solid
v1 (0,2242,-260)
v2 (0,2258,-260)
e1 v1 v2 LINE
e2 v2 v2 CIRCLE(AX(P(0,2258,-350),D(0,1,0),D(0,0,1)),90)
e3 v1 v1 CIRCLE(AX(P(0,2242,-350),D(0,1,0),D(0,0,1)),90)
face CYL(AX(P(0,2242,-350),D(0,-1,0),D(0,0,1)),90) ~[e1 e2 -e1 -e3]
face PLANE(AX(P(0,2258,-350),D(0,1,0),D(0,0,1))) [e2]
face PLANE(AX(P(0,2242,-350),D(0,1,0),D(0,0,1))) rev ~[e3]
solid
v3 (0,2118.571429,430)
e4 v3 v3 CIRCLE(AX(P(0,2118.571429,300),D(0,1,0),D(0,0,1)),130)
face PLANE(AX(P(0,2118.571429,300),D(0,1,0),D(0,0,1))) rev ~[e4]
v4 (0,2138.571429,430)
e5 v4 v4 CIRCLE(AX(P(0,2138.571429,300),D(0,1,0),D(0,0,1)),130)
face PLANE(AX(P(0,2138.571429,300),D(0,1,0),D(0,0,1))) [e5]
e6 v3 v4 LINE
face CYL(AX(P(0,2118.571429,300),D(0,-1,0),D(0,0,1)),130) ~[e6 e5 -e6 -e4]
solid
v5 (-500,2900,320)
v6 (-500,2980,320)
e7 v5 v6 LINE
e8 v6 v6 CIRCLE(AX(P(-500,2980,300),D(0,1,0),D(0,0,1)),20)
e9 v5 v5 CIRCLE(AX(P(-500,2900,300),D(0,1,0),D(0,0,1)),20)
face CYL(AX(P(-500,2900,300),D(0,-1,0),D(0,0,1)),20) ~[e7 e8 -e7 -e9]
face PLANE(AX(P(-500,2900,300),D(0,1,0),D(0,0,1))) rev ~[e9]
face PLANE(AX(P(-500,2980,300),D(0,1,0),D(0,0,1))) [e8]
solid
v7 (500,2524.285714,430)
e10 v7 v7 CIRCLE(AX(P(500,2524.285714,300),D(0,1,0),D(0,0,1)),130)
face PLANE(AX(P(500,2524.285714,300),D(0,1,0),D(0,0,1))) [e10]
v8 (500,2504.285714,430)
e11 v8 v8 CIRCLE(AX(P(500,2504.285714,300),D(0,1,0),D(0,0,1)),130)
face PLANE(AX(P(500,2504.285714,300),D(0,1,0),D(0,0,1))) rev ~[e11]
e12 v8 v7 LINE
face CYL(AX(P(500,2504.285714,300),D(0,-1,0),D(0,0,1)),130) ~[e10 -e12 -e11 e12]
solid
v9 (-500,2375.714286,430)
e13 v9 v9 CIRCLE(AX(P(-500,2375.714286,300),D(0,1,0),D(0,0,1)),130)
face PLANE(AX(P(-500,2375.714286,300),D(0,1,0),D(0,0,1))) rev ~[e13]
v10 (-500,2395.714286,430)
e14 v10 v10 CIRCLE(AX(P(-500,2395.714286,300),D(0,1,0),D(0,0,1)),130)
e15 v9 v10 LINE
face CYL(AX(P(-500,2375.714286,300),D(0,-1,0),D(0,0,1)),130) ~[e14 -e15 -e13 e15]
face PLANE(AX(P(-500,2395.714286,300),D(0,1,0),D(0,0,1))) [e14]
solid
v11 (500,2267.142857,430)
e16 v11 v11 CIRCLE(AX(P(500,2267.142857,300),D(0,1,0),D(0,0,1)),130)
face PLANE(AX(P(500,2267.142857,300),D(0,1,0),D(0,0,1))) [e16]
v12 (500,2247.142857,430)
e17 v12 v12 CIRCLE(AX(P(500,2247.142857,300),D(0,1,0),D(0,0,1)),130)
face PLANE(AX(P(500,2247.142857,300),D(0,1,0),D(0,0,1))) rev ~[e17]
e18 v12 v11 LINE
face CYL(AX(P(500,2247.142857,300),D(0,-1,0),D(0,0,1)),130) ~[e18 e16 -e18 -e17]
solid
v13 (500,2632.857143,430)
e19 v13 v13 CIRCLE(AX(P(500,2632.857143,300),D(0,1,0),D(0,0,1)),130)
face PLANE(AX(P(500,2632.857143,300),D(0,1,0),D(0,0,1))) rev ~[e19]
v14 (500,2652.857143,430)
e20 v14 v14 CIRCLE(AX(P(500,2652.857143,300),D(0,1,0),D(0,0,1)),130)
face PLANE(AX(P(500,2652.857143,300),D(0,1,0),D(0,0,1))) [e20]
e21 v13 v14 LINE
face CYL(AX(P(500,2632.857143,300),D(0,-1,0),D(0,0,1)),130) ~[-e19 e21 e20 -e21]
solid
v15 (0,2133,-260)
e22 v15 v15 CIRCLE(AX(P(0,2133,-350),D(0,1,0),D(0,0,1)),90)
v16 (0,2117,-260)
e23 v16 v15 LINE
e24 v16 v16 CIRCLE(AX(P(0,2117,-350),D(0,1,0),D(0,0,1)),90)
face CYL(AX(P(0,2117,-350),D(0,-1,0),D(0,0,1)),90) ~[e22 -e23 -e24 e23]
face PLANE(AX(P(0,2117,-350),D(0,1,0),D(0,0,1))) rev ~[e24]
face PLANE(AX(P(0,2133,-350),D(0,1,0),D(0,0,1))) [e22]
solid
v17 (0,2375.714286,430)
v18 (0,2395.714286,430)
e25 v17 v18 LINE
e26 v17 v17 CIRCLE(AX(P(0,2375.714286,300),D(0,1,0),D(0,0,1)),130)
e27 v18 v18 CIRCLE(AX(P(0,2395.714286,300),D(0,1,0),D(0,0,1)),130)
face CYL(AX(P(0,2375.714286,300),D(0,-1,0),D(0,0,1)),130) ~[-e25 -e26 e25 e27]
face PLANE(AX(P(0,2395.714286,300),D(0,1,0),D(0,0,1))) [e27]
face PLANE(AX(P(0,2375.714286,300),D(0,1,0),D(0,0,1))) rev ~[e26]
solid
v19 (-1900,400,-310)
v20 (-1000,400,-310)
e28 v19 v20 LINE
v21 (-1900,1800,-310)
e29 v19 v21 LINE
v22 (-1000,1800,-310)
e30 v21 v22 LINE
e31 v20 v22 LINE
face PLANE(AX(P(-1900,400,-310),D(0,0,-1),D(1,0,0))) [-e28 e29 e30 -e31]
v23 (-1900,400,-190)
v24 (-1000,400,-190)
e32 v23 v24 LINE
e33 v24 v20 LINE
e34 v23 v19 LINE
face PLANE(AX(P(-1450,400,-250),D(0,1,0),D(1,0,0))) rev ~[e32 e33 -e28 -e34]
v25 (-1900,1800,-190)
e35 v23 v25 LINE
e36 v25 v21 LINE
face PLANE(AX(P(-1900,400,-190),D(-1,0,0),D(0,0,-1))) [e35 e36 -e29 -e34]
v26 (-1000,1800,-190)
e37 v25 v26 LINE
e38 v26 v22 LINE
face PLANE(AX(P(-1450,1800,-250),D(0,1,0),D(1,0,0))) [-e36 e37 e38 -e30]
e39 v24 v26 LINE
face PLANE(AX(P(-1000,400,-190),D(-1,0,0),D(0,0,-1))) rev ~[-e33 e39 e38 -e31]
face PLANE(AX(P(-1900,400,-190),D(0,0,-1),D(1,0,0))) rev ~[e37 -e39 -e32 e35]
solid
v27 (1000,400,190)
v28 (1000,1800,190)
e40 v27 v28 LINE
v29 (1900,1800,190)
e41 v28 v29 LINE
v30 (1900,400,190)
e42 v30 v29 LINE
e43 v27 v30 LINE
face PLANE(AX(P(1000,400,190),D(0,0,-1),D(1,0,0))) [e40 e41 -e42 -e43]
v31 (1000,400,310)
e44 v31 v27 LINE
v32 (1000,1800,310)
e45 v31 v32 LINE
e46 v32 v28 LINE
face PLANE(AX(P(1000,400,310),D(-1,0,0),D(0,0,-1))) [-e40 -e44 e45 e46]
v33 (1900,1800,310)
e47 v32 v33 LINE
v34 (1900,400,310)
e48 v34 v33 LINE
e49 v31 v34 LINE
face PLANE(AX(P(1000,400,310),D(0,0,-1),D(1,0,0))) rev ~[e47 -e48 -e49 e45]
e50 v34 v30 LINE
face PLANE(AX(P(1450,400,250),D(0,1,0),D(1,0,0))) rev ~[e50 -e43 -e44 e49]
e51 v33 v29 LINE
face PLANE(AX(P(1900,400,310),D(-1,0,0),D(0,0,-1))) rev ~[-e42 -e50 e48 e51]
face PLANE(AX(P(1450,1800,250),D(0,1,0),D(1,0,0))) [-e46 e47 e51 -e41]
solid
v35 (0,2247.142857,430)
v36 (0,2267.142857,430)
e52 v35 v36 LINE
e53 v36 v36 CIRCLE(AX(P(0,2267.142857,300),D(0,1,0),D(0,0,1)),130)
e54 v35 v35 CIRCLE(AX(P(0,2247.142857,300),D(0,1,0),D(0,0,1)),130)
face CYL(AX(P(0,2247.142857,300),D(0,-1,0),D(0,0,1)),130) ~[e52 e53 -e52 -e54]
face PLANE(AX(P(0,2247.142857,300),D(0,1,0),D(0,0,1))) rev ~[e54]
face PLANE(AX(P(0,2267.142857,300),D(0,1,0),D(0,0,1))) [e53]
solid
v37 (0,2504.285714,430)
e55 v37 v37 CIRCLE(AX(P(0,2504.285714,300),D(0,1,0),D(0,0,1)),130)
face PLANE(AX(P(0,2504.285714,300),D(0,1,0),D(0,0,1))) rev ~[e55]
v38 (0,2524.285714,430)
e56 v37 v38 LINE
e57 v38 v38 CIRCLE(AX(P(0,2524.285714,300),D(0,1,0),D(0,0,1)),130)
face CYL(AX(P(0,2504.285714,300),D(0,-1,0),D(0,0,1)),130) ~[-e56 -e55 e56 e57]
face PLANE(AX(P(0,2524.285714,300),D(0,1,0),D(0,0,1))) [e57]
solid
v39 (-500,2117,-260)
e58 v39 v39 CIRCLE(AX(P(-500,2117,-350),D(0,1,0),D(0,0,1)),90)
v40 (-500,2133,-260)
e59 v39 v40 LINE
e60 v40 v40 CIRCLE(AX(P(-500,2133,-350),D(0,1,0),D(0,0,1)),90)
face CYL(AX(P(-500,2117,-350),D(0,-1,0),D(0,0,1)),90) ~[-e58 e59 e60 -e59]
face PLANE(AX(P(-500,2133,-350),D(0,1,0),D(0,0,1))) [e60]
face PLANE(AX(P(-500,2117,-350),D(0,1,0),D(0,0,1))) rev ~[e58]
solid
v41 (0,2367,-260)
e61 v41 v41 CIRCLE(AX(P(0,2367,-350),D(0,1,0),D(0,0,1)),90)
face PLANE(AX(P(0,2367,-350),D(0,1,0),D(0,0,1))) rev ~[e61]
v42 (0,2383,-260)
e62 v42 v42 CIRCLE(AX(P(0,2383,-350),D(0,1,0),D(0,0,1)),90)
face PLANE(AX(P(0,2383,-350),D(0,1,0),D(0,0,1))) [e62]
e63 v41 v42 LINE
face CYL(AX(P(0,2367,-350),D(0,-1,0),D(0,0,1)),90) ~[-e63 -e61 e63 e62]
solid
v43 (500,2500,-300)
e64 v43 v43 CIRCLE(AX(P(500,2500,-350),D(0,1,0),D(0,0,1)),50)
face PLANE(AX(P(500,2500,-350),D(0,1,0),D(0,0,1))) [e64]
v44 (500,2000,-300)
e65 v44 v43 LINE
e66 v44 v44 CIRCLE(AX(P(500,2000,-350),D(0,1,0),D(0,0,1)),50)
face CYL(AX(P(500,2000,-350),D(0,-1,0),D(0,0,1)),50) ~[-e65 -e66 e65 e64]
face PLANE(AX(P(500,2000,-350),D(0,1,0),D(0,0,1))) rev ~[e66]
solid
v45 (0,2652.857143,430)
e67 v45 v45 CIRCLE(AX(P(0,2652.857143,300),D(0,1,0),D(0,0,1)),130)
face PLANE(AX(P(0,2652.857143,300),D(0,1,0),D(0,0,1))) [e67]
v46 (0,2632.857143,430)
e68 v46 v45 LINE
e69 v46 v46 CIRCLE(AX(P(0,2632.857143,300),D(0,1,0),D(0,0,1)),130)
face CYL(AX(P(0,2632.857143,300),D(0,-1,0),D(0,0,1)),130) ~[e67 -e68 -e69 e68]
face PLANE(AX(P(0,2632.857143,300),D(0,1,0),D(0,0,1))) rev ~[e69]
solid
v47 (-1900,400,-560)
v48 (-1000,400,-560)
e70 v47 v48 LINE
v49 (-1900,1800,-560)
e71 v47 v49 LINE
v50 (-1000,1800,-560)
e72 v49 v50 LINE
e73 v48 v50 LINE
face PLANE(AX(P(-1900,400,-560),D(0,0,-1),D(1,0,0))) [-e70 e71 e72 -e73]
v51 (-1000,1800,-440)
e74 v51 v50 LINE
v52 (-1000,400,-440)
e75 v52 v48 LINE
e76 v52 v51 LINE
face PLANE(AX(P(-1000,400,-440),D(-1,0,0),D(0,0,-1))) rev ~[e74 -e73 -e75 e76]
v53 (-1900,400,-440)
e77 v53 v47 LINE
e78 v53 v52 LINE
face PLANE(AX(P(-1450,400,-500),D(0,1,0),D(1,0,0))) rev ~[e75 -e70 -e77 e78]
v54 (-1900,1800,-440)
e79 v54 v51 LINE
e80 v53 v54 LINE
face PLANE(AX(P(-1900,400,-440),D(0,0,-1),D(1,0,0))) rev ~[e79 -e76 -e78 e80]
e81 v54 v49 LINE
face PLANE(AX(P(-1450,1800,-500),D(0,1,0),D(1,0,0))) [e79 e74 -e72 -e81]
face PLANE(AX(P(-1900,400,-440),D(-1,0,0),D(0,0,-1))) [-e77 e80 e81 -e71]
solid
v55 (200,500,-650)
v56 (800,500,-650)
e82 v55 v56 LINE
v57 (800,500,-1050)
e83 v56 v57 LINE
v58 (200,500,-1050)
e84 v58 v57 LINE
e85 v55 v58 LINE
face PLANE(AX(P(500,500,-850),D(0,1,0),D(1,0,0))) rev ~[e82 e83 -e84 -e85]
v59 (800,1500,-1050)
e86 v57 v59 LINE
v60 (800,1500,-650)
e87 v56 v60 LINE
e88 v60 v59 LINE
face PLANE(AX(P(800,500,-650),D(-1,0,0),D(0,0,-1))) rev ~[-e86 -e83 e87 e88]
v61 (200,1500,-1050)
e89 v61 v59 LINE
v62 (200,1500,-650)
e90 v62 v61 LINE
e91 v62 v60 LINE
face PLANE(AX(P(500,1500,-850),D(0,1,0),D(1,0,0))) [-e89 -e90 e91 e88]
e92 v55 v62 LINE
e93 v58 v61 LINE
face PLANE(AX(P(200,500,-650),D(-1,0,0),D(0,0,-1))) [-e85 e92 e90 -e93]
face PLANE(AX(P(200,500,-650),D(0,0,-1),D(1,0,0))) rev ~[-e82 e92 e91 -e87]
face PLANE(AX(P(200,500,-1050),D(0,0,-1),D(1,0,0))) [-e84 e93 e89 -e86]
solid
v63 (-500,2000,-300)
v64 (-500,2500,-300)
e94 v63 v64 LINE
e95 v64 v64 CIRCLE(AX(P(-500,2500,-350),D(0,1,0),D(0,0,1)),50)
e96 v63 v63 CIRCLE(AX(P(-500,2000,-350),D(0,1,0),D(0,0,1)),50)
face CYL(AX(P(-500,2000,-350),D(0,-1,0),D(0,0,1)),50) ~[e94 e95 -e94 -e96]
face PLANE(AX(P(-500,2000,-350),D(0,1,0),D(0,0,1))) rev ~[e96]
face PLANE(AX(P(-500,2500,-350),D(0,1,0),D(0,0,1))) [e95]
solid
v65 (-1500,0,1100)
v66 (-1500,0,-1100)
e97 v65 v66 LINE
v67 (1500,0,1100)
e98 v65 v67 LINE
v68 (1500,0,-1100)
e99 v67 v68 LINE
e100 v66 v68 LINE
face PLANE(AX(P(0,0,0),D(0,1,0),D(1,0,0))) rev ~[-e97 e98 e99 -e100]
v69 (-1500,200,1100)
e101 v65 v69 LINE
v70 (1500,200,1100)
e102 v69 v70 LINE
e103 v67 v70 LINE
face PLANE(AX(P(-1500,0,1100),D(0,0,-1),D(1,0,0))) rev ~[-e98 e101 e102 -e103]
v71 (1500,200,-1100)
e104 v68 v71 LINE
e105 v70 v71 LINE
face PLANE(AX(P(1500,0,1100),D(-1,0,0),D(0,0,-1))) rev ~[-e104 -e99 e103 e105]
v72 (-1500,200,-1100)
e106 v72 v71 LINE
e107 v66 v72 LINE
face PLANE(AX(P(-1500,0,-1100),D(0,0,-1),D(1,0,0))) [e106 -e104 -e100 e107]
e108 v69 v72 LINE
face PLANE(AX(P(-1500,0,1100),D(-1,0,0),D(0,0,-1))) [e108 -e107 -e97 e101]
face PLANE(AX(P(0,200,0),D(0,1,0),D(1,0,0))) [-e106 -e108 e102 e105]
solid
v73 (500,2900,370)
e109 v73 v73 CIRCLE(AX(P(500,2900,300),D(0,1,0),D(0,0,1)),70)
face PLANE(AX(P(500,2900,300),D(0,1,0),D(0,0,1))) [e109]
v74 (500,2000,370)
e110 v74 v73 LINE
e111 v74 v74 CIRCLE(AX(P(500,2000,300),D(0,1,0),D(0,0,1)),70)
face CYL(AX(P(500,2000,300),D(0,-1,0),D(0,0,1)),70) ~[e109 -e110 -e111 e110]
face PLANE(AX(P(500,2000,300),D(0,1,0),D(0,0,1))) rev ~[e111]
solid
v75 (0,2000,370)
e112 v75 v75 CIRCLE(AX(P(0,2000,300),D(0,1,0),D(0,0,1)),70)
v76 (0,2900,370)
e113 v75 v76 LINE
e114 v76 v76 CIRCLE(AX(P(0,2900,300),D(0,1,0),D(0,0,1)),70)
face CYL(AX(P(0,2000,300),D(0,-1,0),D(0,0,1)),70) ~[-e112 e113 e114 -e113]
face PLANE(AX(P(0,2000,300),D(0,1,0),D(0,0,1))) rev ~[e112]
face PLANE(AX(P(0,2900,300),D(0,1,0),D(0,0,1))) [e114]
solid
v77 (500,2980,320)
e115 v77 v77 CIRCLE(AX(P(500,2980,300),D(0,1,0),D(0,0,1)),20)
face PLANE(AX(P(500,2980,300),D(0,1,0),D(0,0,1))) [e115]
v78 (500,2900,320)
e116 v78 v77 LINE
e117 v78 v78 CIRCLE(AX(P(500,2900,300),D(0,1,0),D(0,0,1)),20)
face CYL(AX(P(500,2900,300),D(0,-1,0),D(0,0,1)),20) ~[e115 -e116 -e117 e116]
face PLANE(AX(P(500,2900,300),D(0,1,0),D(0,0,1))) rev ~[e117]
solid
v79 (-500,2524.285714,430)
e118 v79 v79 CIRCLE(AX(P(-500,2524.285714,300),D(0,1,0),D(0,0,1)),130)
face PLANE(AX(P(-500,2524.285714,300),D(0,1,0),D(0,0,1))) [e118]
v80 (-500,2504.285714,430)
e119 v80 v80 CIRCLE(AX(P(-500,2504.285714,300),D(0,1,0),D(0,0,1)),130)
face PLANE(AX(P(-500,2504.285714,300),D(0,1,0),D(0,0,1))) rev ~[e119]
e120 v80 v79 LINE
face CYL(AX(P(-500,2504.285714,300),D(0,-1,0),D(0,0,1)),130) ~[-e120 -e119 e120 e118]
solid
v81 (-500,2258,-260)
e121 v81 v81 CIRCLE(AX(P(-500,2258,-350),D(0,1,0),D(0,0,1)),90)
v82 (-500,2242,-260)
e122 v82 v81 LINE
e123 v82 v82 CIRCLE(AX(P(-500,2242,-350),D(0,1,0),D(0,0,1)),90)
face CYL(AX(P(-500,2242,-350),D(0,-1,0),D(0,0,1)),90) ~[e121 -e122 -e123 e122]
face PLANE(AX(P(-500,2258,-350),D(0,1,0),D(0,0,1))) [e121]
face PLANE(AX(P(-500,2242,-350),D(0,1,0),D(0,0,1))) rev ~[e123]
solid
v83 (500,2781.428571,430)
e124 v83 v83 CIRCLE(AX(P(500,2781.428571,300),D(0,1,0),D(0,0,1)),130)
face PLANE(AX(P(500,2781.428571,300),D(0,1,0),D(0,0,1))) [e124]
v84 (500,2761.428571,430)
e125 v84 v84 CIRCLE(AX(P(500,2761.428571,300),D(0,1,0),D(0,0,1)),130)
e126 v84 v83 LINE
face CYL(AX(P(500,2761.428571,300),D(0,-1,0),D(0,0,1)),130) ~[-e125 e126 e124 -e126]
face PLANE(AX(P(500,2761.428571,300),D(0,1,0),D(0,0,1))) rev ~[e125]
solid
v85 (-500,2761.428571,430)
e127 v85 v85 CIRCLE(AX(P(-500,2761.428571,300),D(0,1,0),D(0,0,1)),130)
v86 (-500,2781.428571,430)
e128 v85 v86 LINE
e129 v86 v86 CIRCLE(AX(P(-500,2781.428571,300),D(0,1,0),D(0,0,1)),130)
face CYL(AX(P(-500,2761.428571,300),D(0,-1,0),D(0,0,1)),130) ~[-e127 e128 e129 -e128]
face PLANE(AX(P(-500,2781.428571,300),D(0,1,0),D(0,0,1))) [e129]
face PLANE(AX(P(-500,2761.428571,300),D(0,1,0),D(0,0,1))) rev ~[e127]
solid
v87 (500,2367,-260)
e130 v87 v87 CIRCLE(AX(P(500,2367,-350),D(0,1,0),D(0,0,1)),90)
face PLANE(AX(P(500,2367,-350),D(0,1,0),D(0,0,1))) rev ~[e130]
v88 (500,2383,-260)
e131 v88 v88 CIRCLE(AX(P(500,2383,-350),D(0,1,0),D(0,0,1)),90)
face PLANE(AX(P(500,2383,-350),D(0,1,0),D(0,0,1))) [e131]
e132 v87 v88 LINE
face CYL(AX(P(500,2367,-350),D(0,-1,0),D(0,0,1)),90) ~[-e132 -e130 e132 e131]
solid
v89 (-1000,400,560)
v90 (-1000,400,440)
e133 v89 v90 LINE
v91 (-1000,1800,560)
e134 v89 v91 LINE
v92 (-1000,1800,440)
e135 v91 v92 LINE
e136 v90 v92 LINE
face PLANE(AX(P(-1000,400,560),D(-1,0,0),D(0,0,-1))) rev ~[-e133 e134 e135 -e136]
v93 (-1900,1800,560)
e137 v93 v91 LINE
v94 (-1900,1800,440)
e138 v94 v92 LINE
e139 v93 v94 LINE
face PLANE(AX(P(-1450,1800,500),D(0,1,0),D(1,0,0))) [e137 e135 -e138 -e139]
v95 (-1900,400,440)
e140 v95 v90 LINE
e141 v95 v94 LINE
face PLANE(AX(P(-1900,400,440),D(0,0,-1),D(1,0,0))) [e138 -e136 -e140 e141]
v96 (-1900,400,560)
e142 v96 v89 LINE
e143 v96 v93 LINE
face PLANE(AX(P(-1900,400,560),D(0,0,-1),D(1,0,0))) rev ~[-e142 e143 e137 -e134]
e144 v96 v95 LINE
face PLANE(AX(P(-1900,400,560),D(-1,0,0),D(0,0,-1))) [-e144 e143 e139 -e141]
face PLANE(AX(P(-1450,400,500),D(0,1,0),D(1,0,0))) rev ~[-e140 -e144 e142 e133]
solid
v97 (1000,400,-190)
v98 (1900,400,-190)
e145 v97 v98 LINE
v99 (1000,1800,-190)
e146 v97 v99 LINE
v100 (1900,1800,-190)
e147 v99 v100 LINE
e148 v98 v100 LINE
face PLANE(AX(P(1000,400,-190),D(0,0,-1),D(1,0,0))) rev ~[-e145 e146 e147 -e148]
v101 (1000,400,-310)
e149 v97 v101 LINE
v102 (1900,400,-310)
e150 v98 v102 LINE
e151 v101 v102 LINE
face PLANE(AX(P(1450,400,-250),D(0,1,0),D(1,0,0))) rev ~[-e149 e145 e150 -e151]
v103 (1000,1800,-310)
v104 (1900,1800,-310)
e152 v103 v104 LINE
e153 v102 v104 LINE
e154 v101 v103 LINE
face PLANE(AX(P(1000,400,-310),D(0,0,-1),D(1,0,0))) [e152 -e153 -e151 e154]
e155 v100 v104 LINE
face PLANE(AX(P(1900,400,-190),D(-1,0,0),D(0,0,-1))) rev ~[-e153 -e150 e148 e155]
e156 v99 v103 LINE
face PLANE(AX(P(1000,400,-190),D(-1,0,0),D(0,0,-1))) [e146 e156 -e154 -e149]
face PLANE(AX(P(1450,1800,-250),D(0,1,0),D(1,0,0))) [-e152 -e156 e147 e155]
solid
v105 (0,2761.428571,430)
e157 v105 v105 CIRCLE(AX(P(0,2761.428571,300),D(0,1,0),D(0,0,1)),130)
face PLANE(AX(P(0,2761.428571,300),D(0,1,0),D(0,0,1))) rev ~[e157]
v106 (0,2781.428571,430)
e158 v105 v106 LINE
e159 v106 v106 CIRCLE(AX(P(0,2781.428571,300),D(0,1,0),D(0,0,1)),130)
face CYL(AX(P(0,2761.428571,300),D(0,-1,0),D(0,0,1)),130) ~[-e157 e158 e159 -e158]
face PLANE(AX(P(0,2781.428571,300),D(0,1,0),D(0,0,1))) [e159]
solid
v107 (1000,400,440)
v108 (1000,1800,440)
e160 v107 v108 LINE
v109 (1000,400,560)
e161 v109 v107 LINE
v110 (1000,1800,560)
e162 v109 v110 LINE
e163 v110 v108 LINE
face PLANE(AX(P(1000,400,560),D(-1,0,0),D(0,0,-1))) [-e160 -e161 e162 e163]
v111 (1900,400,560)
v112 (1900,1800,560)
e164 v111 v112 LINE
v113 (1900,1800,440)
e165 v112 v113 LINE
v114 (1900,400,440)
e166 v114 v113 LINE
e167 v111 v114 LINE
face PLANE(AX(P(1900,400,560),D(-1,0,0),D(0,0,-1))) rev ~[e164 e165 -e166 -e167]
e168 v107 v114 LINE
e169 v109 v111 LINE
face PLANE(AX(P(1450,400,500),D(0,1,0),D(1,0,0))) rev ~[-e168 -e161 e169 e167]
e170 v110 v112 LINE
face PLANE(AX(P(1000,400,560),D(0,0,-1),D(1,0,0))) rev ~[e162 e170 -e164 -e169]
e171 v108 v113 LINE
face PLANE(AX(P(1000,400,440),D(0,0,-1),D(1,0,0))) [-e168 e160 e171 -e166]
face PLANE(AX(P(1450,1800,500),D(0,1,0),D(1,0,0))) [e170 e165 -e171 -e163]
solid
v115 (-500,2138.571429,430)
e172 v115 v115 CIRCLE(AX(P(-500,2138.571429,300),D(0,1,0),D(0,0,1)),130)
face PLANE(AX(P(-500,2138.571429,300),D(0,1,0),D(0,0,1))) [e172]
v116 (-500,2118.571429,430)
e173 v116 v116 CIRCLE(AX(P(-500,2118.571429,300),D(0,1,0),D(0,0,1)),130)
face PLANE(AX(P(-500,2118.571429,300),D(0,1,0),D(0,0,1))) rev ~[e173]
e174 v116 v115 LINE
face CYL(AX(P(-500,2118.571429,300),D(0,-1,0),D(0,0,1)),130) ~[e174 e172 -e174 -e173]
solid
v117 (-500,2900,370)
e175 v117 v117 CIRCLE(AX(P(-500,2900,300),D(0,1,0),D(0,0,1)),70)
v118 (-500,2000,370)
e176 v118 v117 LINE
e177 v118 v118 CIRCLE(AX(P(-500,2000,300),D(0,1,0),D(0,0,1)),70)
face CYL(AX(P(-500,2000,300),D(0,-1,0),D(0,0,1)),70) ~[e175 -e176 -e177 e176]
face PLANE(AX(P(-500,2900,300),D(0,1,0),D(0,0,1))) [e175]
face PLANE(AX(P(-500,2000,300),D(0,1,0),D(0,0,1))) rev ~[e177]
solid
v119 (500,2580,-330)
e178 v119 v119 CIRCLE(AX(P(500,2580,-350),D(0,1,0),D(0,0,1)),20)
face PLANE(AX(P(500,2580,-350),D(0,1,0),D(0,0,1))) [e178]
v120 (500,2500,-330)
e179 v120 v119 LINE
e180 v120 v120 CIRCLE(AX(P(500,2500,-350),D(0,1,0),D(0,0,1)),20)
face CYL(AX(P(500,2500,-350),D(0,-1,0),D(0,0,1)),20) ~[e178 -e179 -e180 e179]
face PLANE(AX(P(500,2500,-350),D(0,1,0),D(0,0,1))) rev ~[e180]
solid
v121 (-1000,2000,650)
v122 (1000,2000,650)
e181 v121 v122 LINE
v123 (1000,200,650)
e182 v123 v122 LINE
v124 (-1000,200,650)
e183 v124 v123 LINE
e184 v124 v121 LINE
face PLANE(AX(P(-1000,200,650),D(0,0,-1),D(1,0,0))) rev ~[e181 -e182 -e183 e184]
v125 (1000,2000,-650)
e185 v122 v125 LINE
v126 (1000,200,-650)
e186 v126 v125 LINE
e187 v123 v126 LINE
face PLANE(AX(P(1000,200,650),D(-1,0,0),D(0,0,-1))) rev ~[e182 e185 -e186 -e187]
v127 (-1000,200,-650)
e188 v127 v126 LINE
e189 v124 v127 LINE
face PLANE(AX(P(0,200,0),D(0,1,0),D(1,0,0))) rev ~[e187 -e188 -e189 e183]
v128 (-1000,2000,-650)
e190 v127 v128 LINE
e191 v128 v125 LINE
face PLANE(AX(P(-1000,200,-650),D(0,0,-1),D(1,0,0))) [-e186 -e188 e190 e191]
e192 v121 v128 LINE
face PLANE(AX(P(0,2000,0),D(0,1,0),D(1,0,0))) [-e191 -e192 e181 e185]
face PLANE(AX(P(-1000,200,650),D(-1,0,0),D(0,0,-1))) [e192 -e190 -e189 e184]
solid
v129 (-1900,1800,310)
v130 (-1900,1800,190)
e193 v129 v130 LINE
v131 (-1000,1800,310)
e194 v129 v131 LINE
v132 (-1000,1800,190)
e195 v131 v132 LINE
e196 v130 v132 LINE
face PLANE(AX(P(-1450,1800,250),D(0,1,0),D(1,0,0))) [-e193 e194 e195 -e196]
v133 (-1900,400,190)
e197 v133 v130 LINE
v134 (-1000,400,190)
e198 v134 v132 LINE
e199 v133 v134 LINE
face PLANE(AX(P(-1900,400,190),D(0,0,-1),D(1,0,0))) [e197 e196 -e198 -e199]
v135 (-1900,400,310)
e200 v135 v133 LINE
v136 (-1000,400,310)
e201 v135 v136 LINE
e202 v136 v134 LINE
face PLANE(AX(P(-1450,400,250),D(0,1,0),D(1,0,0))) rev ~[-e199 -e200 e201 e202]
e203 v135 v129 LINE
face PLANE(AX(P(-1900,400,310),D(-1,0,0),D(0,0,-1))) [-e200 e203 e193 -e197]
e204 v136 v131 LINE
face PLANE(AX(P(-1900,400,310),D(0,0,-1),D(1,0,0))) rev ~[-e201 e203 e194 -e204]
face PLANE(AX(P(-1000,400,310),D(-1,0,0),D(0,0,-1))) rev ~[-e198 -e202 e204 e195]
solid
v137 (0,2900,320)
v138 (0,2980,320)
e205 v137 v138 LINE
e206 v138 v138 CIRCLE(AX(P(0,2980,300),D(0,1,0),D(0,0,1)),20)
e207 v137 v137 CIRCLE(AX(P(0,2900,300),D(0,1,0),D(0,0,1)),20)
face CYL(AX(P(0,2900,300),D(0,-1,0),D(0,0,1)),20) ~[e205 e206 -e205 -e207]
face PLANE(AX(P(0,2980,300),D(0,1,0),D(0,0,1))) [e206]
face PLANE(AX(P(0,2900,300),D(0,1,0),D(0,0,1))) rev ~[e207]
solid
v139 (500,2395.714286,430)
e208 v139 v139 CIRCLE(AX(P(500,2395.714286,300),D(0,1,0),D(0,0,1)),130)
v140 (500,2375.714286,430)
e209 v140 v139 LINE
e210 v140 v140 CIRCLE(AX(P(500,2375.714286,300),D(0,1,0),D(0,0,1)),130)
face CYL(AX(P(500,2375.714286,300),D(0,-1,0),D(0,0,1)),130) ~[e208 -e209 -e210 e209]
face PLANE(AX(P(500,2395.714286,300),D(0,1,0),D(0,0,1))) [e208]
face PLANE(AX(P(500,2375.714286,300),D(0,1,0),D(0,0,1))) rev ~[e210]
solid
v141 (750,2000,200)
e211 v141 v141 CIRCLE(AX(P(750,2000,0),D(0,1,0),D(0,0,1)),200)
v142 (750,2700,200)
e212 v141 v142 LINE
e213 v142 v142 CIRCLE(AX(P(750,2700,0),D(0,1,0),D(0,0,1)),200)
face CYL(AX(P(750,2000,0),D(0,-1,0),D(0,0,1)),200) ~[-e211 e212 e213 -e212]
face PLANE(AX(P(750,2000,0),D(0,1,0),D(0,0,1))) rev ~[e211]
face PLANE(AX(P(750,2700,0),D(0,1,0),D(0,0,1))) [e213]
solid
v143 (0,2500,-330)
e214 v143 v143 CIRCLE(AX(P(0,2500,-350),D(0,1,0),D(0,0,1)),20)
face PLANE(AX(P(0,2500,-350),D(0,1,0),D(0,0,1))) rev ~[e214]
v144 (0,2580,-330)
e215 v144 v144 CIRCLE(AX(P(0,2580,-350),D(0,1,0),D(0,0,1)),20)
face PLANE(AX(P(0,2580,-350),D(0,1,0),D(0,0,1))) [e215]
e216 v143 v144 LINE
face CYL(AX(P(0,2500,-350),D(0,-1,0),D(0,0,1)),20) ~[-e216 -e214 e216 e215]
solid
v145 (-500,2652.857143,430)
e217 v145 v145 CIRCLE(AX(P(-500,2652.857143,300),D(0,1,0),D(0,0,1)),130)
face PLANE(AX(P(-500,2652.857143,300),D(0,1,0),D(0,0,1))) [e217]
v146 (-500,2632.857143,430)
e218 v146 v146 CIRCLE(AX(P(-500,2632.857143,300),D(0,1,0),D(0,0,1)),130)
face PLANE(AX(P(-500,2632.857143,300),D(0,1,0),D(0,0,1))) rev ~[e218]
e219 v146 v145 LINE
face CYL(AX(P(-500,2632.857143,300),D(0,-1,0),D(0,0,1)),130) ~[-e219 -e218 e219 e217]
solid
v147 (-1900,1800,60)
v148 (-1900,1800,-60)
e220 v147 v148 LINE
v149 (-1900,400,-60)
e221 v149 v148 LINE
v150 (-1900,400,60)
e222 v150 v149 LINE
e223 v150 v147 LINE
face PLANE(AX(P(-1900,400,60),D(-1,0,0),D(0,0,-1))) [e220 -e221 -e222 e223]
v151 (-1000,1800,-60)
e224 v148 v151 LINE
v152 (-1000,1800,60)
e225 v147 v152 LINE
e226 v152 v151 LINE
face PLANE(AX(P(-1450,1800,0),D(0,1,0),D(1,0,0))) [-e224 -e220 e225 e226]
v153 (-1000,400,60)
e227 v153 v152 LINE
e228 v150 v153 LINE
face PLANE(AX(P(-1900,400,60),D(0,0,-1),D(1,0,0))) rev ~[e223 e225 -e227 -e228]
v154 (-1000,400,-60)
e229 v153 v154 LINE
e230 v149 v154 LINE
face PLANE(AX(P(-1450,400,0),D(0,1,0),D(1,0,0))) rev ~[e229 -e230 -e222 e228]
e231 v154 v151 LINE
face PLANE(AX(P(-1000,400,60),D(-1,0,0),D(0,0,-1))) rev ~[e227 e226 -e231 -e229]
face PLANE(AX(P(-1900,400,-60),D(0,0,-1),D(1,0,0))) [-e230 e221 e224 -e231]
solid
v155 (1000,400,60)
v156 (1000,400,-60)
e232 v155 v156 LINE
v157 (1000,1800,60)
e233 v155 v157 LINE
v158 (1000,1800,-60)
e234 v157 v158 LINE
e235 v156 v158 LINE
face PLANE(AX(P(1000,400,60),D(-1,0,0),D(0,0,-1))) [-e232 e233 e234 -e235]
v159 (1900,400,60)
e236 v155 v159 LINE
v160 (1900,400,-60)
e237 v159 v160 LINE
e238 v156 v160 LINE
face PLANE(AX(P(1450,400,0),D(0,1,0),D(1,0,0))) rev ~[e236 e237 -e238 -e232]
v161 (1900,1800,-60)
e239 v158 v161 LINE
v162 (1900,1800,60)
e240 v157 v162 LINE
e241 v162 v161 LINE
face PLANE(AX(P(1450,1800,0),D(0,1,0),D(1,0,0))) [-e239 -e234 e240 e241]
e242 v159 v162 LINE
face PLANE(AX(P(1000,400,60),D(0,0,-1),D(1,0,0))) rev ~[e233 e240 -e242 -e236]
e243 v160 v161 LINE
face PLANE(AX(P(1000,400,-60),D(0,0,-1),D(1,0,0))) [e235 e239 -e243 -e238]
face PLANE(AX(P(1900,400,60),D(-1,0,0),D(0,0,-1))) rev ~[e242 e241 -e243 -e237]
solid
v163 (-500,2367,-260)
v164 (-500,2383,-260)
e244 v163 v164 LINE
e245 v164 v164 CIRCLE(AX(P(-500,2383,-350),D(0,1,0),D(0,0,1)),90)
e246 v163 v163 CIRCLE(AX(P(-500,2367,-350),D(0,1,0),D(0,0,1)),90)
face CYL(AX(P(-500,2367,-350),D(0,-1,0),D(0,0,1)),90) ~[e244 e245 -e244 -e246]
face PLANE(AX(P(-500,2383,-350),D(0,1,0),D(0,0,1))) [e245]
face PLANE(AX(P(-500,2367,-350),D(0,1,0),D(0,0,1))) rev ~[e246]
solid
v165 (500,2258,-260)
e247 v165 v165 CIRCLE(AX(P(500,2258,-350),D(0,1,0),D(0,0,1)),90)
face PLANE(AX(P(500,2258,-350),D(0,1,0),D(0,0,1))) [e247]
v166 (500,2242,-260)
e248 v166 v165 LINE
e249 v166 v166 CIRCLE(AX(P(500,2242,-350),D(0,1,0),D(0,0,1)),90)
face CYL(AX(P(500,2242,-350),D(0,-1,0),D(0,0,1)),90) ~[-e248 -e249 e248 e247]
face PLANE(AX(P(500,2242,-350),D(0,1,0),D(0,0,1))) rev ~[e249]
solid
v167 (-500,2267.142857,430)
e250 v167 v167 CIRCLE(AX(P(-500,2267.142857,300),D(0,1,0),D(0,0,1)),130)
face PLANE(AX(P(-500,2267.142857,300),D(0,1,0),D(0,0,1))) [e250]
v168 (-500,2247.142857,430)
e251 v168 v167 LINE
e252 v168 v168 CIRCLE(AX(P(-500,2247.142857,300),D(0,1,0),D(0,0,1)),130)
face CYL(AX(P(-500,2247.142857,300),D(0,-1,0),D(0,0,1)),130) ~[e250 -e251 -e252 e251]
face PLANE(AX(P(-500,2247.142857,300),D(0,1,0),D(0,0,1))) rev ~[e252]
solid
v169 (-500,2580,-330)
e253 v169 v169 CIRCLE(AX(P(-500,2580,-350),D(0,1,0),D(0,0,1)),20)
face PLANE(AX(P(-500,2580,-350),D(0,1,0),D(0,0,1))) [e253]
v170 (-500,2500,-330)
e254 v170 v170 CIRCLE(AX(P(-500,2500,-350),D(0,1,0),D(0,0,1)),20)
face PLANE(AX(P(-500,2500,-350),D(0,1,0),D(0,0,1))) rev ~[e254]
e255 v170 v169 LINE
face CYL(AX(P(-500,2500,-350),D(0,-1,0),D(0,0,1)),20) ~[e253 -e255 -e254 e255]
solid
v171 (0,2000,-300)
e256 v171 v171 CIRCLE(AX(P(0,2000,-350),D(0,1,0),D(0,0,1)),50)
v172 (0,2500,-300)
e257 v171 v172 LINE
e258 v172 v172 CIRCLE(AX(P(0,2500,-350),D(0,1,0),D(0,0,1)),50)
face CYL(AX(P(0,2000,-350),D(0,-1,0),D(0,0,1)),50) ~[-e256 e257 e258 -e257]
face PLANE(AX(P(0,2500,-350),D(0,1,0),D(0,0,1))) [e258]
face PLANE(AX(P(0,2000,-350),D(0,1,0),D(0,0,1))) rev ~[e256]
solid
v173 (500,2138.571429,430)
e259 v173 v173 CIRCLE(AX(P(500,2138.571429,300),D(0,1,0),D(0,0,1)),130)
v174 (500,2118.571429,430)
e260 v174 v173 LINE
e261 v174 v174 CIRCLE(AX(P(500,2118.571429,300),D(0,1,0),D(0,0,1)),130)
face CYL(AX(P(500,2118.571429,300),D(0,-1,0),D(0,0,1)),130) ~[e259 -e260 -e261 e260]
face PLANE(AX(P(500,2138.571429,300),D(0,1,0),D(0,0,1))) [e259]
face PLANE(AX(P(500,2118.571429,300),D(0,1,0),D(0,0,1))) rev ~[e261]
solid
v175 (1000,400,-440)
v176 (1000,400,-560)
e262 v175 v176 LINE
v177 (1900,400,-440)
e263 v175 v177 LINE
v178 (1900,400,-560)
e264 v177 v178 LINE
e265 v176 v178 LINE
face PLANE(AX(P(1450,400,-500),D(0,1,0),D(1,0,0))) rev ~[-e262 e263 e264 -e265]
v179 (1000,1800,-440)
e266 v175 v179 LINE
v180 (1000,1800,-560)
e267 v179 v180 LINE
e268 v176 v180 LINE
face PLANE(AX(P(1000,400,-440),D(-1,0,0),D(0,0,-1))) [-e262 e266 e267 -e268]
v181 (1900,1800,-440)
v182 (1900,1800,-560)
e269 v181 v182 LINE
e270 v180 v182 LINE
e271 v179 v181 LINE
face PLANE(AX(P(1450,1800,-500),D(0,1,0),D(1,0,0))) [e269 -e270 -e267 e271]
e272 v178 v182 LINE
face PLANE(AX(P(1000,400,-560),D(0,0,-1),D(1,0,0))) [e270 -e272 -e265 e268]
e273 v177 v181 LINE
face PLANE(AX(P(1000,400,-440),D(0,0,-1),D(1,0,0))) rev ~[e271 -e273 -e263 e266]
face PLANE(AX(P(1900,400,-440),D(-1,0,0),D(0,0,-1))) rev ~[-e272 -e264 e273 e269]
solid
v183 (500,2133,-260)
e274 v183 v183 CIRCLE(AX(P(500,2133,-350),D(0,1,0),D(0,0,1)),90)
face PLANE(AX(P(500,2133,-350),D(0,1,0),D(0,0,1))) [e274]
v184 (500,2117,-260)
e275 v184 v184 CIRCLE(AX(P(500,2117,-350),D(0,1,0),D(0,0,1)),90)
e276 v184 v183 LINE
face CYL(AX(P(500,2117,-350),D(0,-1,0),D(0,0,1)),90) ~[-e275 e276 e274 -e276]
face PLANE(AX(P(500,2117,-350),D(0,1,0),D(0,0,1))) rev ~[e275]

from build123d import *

# Parameters (mm, degrees)
SKETCH1_W             = 3000
SKETCH1_H             = 2200
PAD_DEPTH             = 200
MAIN_START            = 200
SKETCH2_W             = 2000
SKETCH2_H             = 1300
MAIN_TANK_DEPTH       = 1800
RADIATOR_START        = 400
SKETCH3_W             = 900
SKETCH3_H             = 120
RADIATOR_X_1_DEPTH    = 1400
SKETCH4_W             = 900
SKETCH4_H             = 120
RADIATOR_X_1_2_DEPTH  = 1400
SKETCH5_W             = 900
SKETCH5_H             = 120
RADIATOR_X_2_DEPTH    = 1400
SKETCH6_W             = 900
SKETCH6_H             = 120
RADIATOR_X_2_2_DEPTH  = 1400
SKETCH7_W             = 900
SKETCH7_H             = 120
RADIATOR_X_3_DEPTH    = 1400
SKETCH8_W             = 900
SKETCH8_H             = 120
RADIATOR_X_3_2_DEPTH  = 1400
SKETCH9_W             = 900
SKETCH9_H             = 120
RADIATOR_X_4_DEPTH    = 1400
SKETCH10_W            = 900
SKETCH10_H            = 120
RADIATOR_X_4_2_DEPTH  = 1400
SKETCH11_W            = 900
SKETCH11_H            = 120
RADIATOR_X_5_DEPTH    = 1400
SKETCH12_W            = 900
SKETCH12_H            = 120
RADIATOR_X_5_2_DEPTH  = 1400
BUSHING_START         = 2000
SKETCH13_R            = 70
BUSHING_HV_1_DEPTH    = 900
SHED_START            = 2118.571428571
SKETCH14_R            = 130
SHED_HV_1_1_DEPTH     = 20
SHED_START_2          = 2247.142857143
SKETCH15_R            = 130
SHED_HV_1_2_DEPTH     = 20
SHED_START_3          = 2375.714285714
SKETCH16_R            = 130
SHED_HV_1_3_DEPTH     = 20
SHED_START_4          = 2504.285714286
SKETCH17_R            = 130
SHED_HV_1_4_DEPTH     = 20
SHED_START_5          = 2632.857142857
SKETCH18_R            = 130
SHED_HV_1_5_DEPTH     = 20
SHED_START_6          = 2761.428571429
SKETCH19_R            = 130
SHED_HV_1_6_DEPTH     = 20
TERMINAL_START        = 2900
SKETCH20_R            = 20
TERMINAL_HV_1_DEPTH   = 80
SKETCH21_R            = 70
BUSHING_HV_2_DEPTH    = 900
SKETCH22_R            = 130
SHED_HV_2_1_DEPTH     = 20
SKETCH23_R            = 130
SHED_HV_2_2_DEPTH     = 20
SKETCH24_R            = 130
SHED_HV_2_3_DEPTH     = 20
SKETCH25_R            = 130
SHED_HV_2_4_DEPTH     = 20
SKETCH26_R            = 130
SHED_HV_2_5_DEPTH     = 20
SKETCH27_R            = 130
SHED_HV_2_6_DEPTH     = 20
SKETCH28_R            = 20
TERMINAL_HV_2_DEPTH   = 80
SKETCH29_R            = 70
BUSHING_HV_3_DEPTH    = 900
SKETCH30_R            = 130
SHED_HV_3_1_DEPTH     = 20
SKETCH31_R            = 130
SHED_HV_3_2_DEPTH     = 20
SKETCH32_R            = 130
SHED_HV_3_3_DEPTH     = 20
SKETCH33_R            = 130
SHED_HV_3_4_DEPTH     = 20
SKETCH34_R            = 130
SHED_HV_3_5_DEPTH     = 20
SKETCH35_R            = 130
SHED_HV_3_6_DEPTH     = 20
SKETCH36_R            = 20
TERMINAL_HV_3_DEPTH   = 80
SKETCH37_R            = 50
BUSHING_LV_1_DEPTH    = 500
SHED_START_7          = 2117
SKETCH38_R            = 90
SHED_LV_1_1_DEPTH     = 16
SHED_START_8          = 2242
SKETCH39_R            = 90
SHED_LV_1_2_DEPTH     = 16
SHED_START_9          = 2367
SKETCH40_R            = 90
SHED_LV_1_3_DEPTH     = 16
TERMINAL_START_2      = 2500
SKETCH41_R            = 20
TERMINAL_LV_1_DEPTH   = 80
SKETCH42_R            = 50
BUSHING_LV_2_DEPTH    = 500
SKETCH43_R            = 90
SHED_LV_2_1_DEPTH     = 16
SKETCH44_R            = 90
SHED_LV_2_2_DEPTH     = 16
SKETCH45_R            = 90
SHED_LV_2_3_DEPTH     = 16
SKETCH46_R            = 20
TERMINAL_LV_2_DEPTH   = 80
SKETCH47_R            = 50
BUSHING_LV_3_DEPTH    = 500
SKETCH48_R            = 90
SHED_LV_3_1_DEPTH     = 16
SKETCH49_R            = 90
SHED_LV_3_2_DEPTH     = 16
SKETCH50_R            = 90
SHED_LV_3_3_DEPTH     = 16
SKETCH51_R            = 20
TERMINAL_LV_3_DEPTH   = 80
CONSERVATOR_START     = 2000
SKETCH52_R            = 200
CONSERVATOR_DEPTH     = 700
CONTROL_START         = 500
SKETCH53_W            = 600
SKETCH53_H            = 400
CONTROL_CABINET_DEPTH = 1000


with BuildPart() as part:
    # Sketch1 → Pad (new body)
    with BuildSketch(Plane(origin=(0, 0, 0), x_dir=(1, 0, 0), z_dir=(0, 1, 0))):
        Rectangle(SKETCH1_W, SKETCH1_H)
    extrude(amount=PAD_DEPTH)


with BuildPart() as body_2:
    # Sketch2 → Main tank (new body)
    with BuildSketch(Plane(origin=(0, 0, 0), x_dir=(1, 0, 0), z_dir=(0, 1, 0)).offset(MAIN_START)):
        Rectangle(SKETCH2_W, SKETCH2_H)
    extrude(amount=MAIN_TANK_DEPTH)


with BuildPart() as body_3:
    # Sketch3 → Radiator _x 1 (new body)
    with BuildSketch(Plane(origin=(0, 0, 0), x_dir=(1, 0, 0), z_dir=(0, 1, 0)).offset(RADIATOR_START)):
        with Locations((1450, 500)):
            Rectangle(SKETCH3_W, SKETCH3_H)
    extrude(amount=RADIATOR_X_1_DEPTH)


with BuildPart() as body_4:
    # Sketch4 → Radiator -x 1 2 (new body)
    with BuildSketch(Plane(origin=(0, 0, 0), x_dir=(1, 0, 0), z_dir=(0, 1, 0)).offset(RADIATOR_START)):
        with Locations((-1450, 500)):
            Rectangle(SKETCH4_W, SKETCH4_H)
    extrude(amount=RADIATOR_X_1_2_DEPTH)


with BuildPart() as body_5:
    # Sketch5 → Radiator _x 2 (new body)
    with BuildSketch(Plane(origin=(0, 0, 0), x_dir=(1, 0, 0), z_dir=(0, 1, 0)).offset(RADIATOR_START)):
        with Locations((1450, 250)):
            Rectangle(SKETCH5_W, SKETCH5_H)
    extrude(amount=RADIATOR_X_2_DEPTH)


with BuildPart() as body_6:
    # Sketch6 → Radiator -x 2 2 (new body)
    with BuildSketch(Plane(origin=(0, 0, 0), x_dir=(1, 0, 0), z_dir=(0, 1, 0)).offset(RADIATOR_START)):
        with Locations((-1450, 250)):
            Rectangle(SKETCH6_W, SKETCH6_H)
    extrude(amount=RADIATOR_X_2_2_DEPTH)


with BuildPart() as body_7:
    # Sketch7 → Radiator _x 3 (new body)
    with BuildSketch(Plane(origin=(0, 0, 0), x_dir=(1, 0, 0), z_dir=(0, 1, 0)).offset(RADIATOR_START)):
        with Locations((1450, 0)):
            Rectangle(SKETCH7_W, SKETCH7_H)
    extrude(amount=RADIATOR_X_3_DEPTH)


with BuildPart() as body_8:
    # Sketch8 → Radiator -x 3 2 (new body)
    with BuildSketch(Plane(origin=(0, 0, 0), x_dir=(1, 0, 0), z_dir=(0, 1, 0)).offset(RADIATOR_START)):
        with Locations((-1450, 0)):
            Rectangle(SKETCH8_W, SKETCH8_H)
    extrude(amount=RADIATOR_X_3_2_DEPTH)


with BuildPart() as body_9:
    # Sketch9 → Radiator _x 4 (new body)
    with BuildSketch(Plane(origin=(0, 0, 0), x_dir=(1, 0, 0), z_dir=(0, 1, 0)).offset(RADIATOR_START)):
        with Locations((1450, -250)):
            Rectangle(SKETCH9_W, SKETCH9_H)
    extrude(amount=RADIATOR_X_4_DEPTH)


with BuildPart() as body_10:
    # Sketch10 → Radiator -x 4 2 (new body)
    with BuildSketch(Plane(origin=(0, 0, 0), x_dir=(1, 0, 0), z_dir=(0, 1, 0)).offset(RADIATOR_START)):
        with Locations((-1450, -250)):
            Rectangle(SKETCH10_W, SKETCH10_H)
    extrude(amount=RADIATOR_X_4_2_DEPTH)


with BuildPart() as body_11:
    # Sketch11 → Radiator _x 5 (new body)
    with BuildSketch(Plane(origin=(0, 0, 0), x_dir=(1, 0, 0), z_dir=(0, 1, 0)).offset(RADIATOR_START)):
        with Locations((1450, -500)):
            Rectangle(SKETCH11_W, SKETCH11_H)
    extrude(amount=RADIATOR_X_5_DEPTH)


with BuildPart() as body_12:
    # Sketch12 → Radiator -x 5 2 (new body)
    with BuildSketch(Plane(origin=(0, 0, 0), x_dir=(1, 0, 0), z_dir=(0, 1, 0)).offset(RADIATOR_START)):
        with Locations((-1450, -500)):
            Rectangle(SKETCH12_W, SKETCH12_H)
    extrude(amount=RADIATOR_X_5_2_DEPTH)


with BuildPart() as body_13:
    # Sketch13 → Bushing HV 1 (new body)
    with BuildSketch(Plane(origin=(0, 0, 0), x_dir=(1, 0, 0), z_dir=(0, 1, 0)).offset(BUSHING_START)):
        with Locations(Location((-500, -300, 0), (0, 0, 270))):
            Circle(SKETCH13_R)
    extrude(amount=BUSHING_HV_1_DEPTH)


with BuildPart() as body_14:
    # Sketch14 → Shed HV 1 1 (new body)
    with BuildSketch(Plane(origin=(0, 0, 0), x_dir=(1, 0, 0), z_dir=(0, 1, 0)).offset(SHED_START)):
        with Locations(Location((-500, -300, 0), (0, 0, 270))):
            Circle(SKETCH14_R)
    extrude(amount=SHED_HV_1_1_DEPTH)


with BuildPart() as body_15:
    # Sketch15 → Shed HV 1 2 (new body)
    with BuildSketch(Plane(origin=(0, 0, 0), x_dir=(1, 0, 0), z_dir=(0, 1, 0)).offset(SHED_START_2)):
        with Locations(Location((-500, -300, 0), (0, 0, 270))):
            Circle(SKETCH15_R)
    extrude(amount=SHED_HV_1_2_DEPTH)


with BuildPart() as body_16:
    # Sketch16 → Shed HV 1 3 (new body)
    with BuildSketch(Plane(origin=(0, 0, 0), x_dir=(1, 0, 0), z_dir=(0, 1, 0)).offset(SHED_START_3)):
        with Locations(Location((-500, -300, 0), (0, 0, 270))):
            Circle(SKETCH16_R)
    extrude(amount=SHED_HV_1_3_DEPTH)


with BuildPart() as body_17:
    # Sketch17 → Shed HV 1 4 (new body)
    with BuildSketch(Plane(origin=(0, 0, 0), x_dir=(1, 0, 0), z_dir=(0, 1, 0)).offset(SHED_START_4)):
        with Locations(Location((-500, -300, 0), (0, 0, 270))):
            Circle(SKETCH17_R)
    extrude(amount=SHED_HV_1_4_DEPTH)


with BuildPart() as body_18:
    # Sketch18 → Shed HV 1 5 (new body)
    with BuildSketch(Plane(origin=(0, 0, 0), x_dir=(1, 0, 0), z_dir=(0, 1, 0)).offset(SHED_START_5)):
        with Locations(Location((-500, -300, 0), (0, 0, 270))):
            Circle(SKETCH18_R)
    extrude(amount=SHED_HV_1_5_DEPTH)


with BuildPart() as body_19:
    # Sketch19 → Shed HV 1 6 (new body)
    with BuildSketch(Plane(origin=(0, 0, 0), x_dir=(1, 0, 0), z_dir=(0, 1, 0)).offset(SHED_START_6)):
        with Locations(Location((-500, -300, 0), (0, 0, 270))):
            Circle(SKETCH19_R)
    extrude(amount=SHED_HV_1_6_DEPTH)


with BuildPart() as body_20:
    # Sketch20 → Terminal HV 1 (new body)
    with BuildSketch(Plane(origin=(0, 0, 0), x_dir=(1, 0, 0), z_dir=(0, 1, 0)).offset(TERMINAL_START)):
        with Locations(Location((-500, -300, 0), (0, 0, 270))):
            Circle(SKETCH20_R)
    extrude(amount=TERMINAL_HV_1_DEPTH)


with BuildPart() as body_21:
    # Sketch21 → Bushing HV 2 (new body)
    with BuildSketch(Plane(origin=(0, 0, 0), x_dir=(1, 0, 0), z_dir=(0, 1, 0)).offset(BUSHING_START)):
        with Locations(Location((0, -300, 0), (0, 0, 270))):
            Circle(SKETCH21_R)
    extrude(amount=BUSHING_HV_2_DEPTH)


with BuildPart() as body_22:
    # Sketch22 → Shed HV 2 1 (new body)
    with BuildSketch(Plane(origin=(0, 0, 0), x_dir=(1, 0, 0), z_dir=(0, 1, 0)).offset(SHED_START)):
        with Locations(Location((0, -300, 0), (0, 0, 270))):
            Circle(SKETCH22_R)
    extrude(amount=SHED_HV_2_1_DEPTH)


with BuildPart() as body_23:
    # Sketch23 → Shed HV 2 2 (new body)
    with BuildSketch(Plane(origin=(0, 0, 0), x_dir=(1, 0, 0), z_dir=(0, 1, 0)).offset(SHED_START_2)):
        with Locations(Location((0, -300, 0), (0, 0, 270))):
            Circle(SKETCH23_R)
    extrude(amount=SHED_HV_2_2_DEPTH)


with BuildPart() as body_24:
    # Sketch24 → Shed HV 2 3 (new body)
    with BuildSketch(Plane(origin=(0, 0, 0), x_dir=(1, 0, 0), z_dir=(0, 1, 0)).offset(SHED_START_3)):
        with Locations(Location((0, -300, 0), (0, 0, 270))):
            Circle(SKETCH24_R)
    extrude(amount=SHED_HV_2_3_DEPTH)


with BuildPart() as body_25:
    # Sketch25 → Shed HV 2 4 (new body)
    with BuildSketch(Plane(origin=(0, 0, 0), x_dir=(1, 0, 0), z_dir=(0, 1, 0)).offset(SHED_START_4)):
        with Locations(Location((0, -300, 0), (0, 0, 270))):
            Circle(SKETCH25_R)
    extrude(amount=SHED_HV_2_4_DEPTH)


with BuildPart() as body_26:
    # Sketch26 → Shed HV 2 5 (new body)
    with BuildSketch(Plane(origin=(0, 0, 0), x_dir=(1, 0, 0), z_dir=(0, 1, 0)).offset(SHED_START_5)):
        with Locations(Location((0, -300, 0), (0, 0, 270))):
            Circle(SKETCH26_R)
    extrude(amount=SHED_HV_2_5_DEPTH)


with BuildPart() as body_27:
    # Sketch27 → Shed HV 2 6 (new body)
    with BuildSketch(Plane(origin=(0, 0, 0), x_dir=(1, 0, 0), z_dir=(0, 1, 0)).offset(SHED_START_6)):
        with Locations(Location((0, -300, 0), (0, 0, 270))):
            Circle(SKETCH27_R)
    extrude(amount=SHED_HV_2_6_DEPTH)


with BuildPart() as body_28:
    # Sketch28 → Terminal HV 2 (new body)
    with BuildSketch(Plane(origin=(0, 0, 0), x_dir=(1, 0, 0), z_dir=(0, 1, 0)).offset(TERMINAL_START)):
        with Locations(Location((0, -300, 0), (0, 0, 270))):
            Circle(SKETCH28_R)
    extrude(amount=TERMINAL_HV_2_DEPTH)


with BuildPart() as body_29:
    # Sketch29 → Bushing HV 3 (new body)
    with BuildSketch(Plane(origin=(0, 0, 0), x_dir=(1, 0, 0), z_dir=(0, 1, 0)).offset(BUSHING_START)):
        with Locations(Location((500, -300, 0), (0, 0, 270))):
            Circle(SKETCH29_R)
    extrude(amount=BUSHING_HV_3_DEPTH)


with BuildPart() as body_30:
    # Sketch30 → Shed HV 3 1 (new body)
    with BuildSketch(Plane(origin=(0, 0, 0), x_dir=(1, 0, 0), z_dir=(0, 1, 0)).offset(SHED_START)):
        with Locations(Location((500, -300, 0), (0, 0, 270))):
            Circle(SKETCH30_R)
    extrude(amount=SHED_HV_3_1_DEPTH)


with BuildPart() as body_31:
    # Sketch31 → Shed HV 3 2 (new body)
    with BuildSketch(Plane(origin=(0, 0, 0), x_dir=(1, 0, 0), z_dir=(0, 1, 0)).offset(SHED_START_2)):
        with Locations(Location((500, -300, 0), (0, 0, 270))):
            Circle(SKETCH31_R)
    extrude(amount=SHED_HV_3_2_DEPTH)


with BuildPart() as body_32:
    # Sketch32 → Shed HV 3 3 (new body)
    with BuildSketch(Plane(origin=(0, 0, 0), x_dir=(1, 0, 0), z_dir=(0, 1, 0)).offset(SHED_START_3)):
        with Locations(Location((500, -300, 0), (0, 0, 270))):
            Circle(SKETCH32_R)
    extrude(amount=SHED_HV_3_3_DEPTH)


with BuildPart() as body_33:
    # Sketch33 → Shed HV 3 4 (new body)
    with BuildSketch(Plane(origin=(0, 0, 0), x_dir=(1, 0, 0), z_dir=(0, 1, 0)).offset(SHED_START_4)):
        with Locations(Location((500, -300, 0), (0, 0, 270))):
            Circle(SKETCH33_R)
    extrude(amount=SHED_HV_3_4_DEPTH)


with BuildPart() as body_34:
    # Sketch34 → Shed HV 3 5 (new body)
    with BuildSketch(Plane(origin=(0, 0, 0), x_dir=(1, 0, 0), z_dir=(0, 1, 0)).offset(SHED_START_5)):
        with Locations(Location((500, -300, 0), (0, 0, 270))):
            Circle(SKETCH34_R)
    extrude(amount=SHED_HV_3_5_DEPTH)


with BuildPart() as body_35:
    # Sketch35 → Shed HV 3 6 (new body)
    with BuildSketch(Plane(origin=(0, 0, 0), x_dir=(1, 0, 0), z_dir=(0, 1, 0)).offset(SHED_START_6)):
        with Locations(Location((500, -300, 0), (0, 0, 270))):
            Circle(SKETCH35_R)
    extrude(amount=SHED_HV_3_6_DEPTH)


with BuildPart() as body_36:
    # Sketch36 → Terminal HV 3 (new body)
    with BuildSketch(Plane(origin=(0, 0, 0), x_dir=(1, 0, 0), z_dir=(0, 1, 0)).offset(TERMINAL_START)):
        with Locations(Location((500, -300, 0), (0, 0, 270))):
            Circle(SKETCH36_R)
    extrude(amount=TERMINAL_HV_3_DEPTH)


with BuildPart() as body_37:
    # Sketch37 → Bushing LV 1 (new body)
    with BuildSketch(Plane(origin=(0, 0, 0), x_dir=(1, 0, 0), z_dir=(0, 1, 0)).offset(BUSHING_START)):
        with Locations(Location((-500, 350, 0), (0, 0, 270))):
            Circle(SKETCH37_R)
    extrude(amount=BUSHING_LV_1_DEPTH)


with BuildPart() as body_38:
    # Sketch38 → Shed LV 1 1 (new body)
    with BuildSketch(Plane(origin=(0, 0, 0), x_dir=(1, 0, 0), z_dir=(0, 1, 0)).offset(SHED_START_7)):
        with Locations(Location((-500, 350, 0), (0, 0, 270))):
            Circle(SKETCH38_R)
    extrude(amount=SHED_LV_1_1_DEPTH)


with BuildPart() as body_39:
    # Sketch39 → Shed LV 1 2 (new body)
    with BuildSketch(Plane(origin=(0, 0, 0), x_dir=(1, 0, 0), z_dir=(0, 1, 0)).offset(SHED_START_8)):
        with Locations(Location((-500, 350, 0), (0, 0, 270))):
            Circle(SKETCH39_R)
    extrude(amount=SHED_LV_1_2_DEPTH)


with BuildPart() as body_40:
    # Sketch40 → Shed LV 1 3 (new body)
    with BuildSketch(Plane(origin=(0, 0, 0), x_dir=(1, 0, 0), z_dir=(0, 1, 0)).offset(SHED_START_9)):
        with Locations(Location((-500, 350, 0), (0, 0, 270))):
            Circle(SKETCH40_R)
    extrude(amount=SHED_LV_1_3_DEPTH)


with BuildPart() as body_41:
    # Sketch41 → Terminal LV 1 (new body)
    with BuildSketch(Plane(origin=(0, 0, 0), x_dir=(1, 0, 0), z_dir=(0, 1, 0)).offset(TERMINAL_START_2)):
        with Locations(Location((-500, 350, 0), (0, 0, 270))):
            Circle(SKETCH41_R)
    extrude(amount=TERMINAL_LV_1_DEPTH)


with BuildPart() as body_42:
    # Sketch42 → Bushing LV 2 (new body)
    with BuildSketch(Plane(origin=(0, 0, 0), x_dir=(1, 0, 0), z_dir=(0, 1, 0)).offset(BUSHING_START)):
        with Locations(Location((0, 350, 0), (0, 0, 270))):
            Circle(SKETCH42_R)
    extrude(amount=BUSHING_LV_2_DEPTH)


with BuildPart() as body_43:
    # Sketch43 → Shed LV 2 1 (new body)
    with BuildSketch(Plane(origin=(0, 0, 0), x_dir=(1, 0, 0), z_dir=(0, 1, 0)).offset(SHED_START_7)):
        with Locations(Location((0, 350, 0), (0, 0, 270))):
            Circle(SKETCH43_R)
    extrude(amount=SHED_LV_2_1_DEPTH)


with BuildPart() as body_44:
    # Sketch44 → Shed LV 2 2 (new body)
    with BuildSketch(Plane(origin=(0, 0, 0), x_dir=(1, 0, 0), z_dir=(0, 1, 0)).offset(SHED_START_8)):
        with Locations(Location((0, 350, 0), (0, 0, 270))):
            Circle(SKETCH44_R)
    extrude(amount=SHED_LV_2_2_DEPTH)


with BuildPart() as body_45:
    # Sketch45 → Shed LV 2 3 (new body)
    with BuildSketch(Plane(origin=(0, 0, 0), x_dir=(1, 0, 0), z_dir=(0, 1, 0)).offset(SHED_START_9)):
        with Locations(Location((0, 350, 0), (0, 0, 270))):
            Circle(SKETCH45_R)
    extrude(amount=SHED_LV_2_3_DEPTH)


with BuildPart() as body_46:
    # Sketch46 → Terminal LV 2 (new body)
    with BuildSketch(Plane(origin=(0, 0, 0), x_dir=(1, 0, 0), z_dir=(0, 1, 0)).offset(TERMINAL_START_2)):
        with Locations(Location((0, 350, 0), (0, 0, 270))):
            Circle(SKETCH46_R)
    extrude(amount=TERMINAL_LV_2_DEPTH)


with BuildPart() as body_47:
    # Sketch47 → Bushing LV 3 (new body)
    with BuildSketch(Plane(origin=(0, 0, 0), x_dir=(1, 0, 0), z_dir=(0, 1, 0)).offset(BUSHING_START)):
        with Locations(Location((500, 350, 0), (0, 0, 270))):
            Circle(SKETCH47_R)
    extrude(amount=BUSHING_LV_3_DEPTH)


with BuildPart() as body_48:
    # Sketch48 → Shed LV 3 1 (new body)
    with BuildSketch(Plane(origin=(0, 0, 0), x_dir=(1, 0, 0), z_dir=(0, 1, 0)).offset(SHED_START_7)):
        with Locations(Location((500, 350, 0), (0, 0, 270))):
            Circle(SKETCH48_R)
    extrude(amount=SHED_LV_3_1_DEPTH)


with BuildPart() as body_49:
    # Sketch49 → Shed LV 3 2 (new body)
    with BuildSketch(Plane(origin=(0, 0, 0), x_dir=(1, 0, 0), z_dir=(0, 1, 0)).offset(SHED_START_8)):
        with Locations(Location((500, 350, 0), (0, 0, 270))):
            Circle(SKETCH49_R)
    extrude(amount=SHED_LV_3_2_DEPTH)


with BuildPart() as body_50:
    # Sketch50 → Shed LV 3 3 (new body)
    with BuildSketch(Plane(origin=(0, 0, 0), x_dir=(1, 0, 0), z_dir=(0, 1, 0)).offset(SHED_START_9)):
        with Locations(Location((500, 350, 0), (0, 0, 270))):
            Circle(SKETCH50_R)
    extrude(amount=SHED_LV_3_3_DEPTH)


with BuildPart() as body_51:
    # Sketch51 → Terminal LV 3 (new body)
    with BuildSketch(Plane(origin=(0, 0, 0), x_dir=(1, 0, 0), z_dir=(0, 1, 0)).offset(TERMINAL_START_2)):
        with Locations(Location((500, 350, 0), (0, 0, 270))):
            Circle(SKETCH51_R)
    extrude(amount=TERMINAL_LV_3_DEPTH)


with BuildPart() as body_52:
    # Sketch52 → Conservator (new body)
    with BuildSketch(Plane(origin=(0, 0, 0), x_dir=(1, 0, 0), z_dir=(0, 1, 0)).offset(CONSERVATOR_START)):
        with Locations(Location((750, 0, 0), (0, 0, 270))):
            Circle(SKETCH52_R)
    extrude(amount=CONSERVATOR_DEPTH)


with BuildPart() as body_53:
    # Sketch53 → Control cabinet (new body)
    with BuildSketch(Plane(origin=(0, 0, 0), x_dir=(1, 0, 0), z_dir=(0, 1, 0)).offset(CONTROL_START)):
        with Locations((500, 850)):
            Rectangle(SKETCH53_W, SKETCH53_H)
    extrude(amount=CONTROL_CABINET_DEPTH)


solid = Compound([part.part, body_2.part, body_3.part, body_4.part, body_5.part, body_6.part, body_7.part, body_8.part, body_9.part, body_10.part, body_11.part, body_12.part, body_13.part, body_14.part, body_15.part, body_16.part, body_17.part, body_18.part, body_19.part, body_20.part, body_21.part, body_22.part, body_23.part, body_24.part, body_25.part, body_26.part, body_27.part, body_28.part, body_29.part, body_30.part, body_31.part, body_32.part, body_33.part, body_34.part, body_35.part, body_36.part, body_37.part, body_38.part, body_39.part, body_40.part, body_41.part, body_42.part, body_43.part, body_44.part, body_45.part, body_46.part, body_47.part, body_48.part, body_49.part, body_50.part, body_51.part, body_52.part, body_53.part])
